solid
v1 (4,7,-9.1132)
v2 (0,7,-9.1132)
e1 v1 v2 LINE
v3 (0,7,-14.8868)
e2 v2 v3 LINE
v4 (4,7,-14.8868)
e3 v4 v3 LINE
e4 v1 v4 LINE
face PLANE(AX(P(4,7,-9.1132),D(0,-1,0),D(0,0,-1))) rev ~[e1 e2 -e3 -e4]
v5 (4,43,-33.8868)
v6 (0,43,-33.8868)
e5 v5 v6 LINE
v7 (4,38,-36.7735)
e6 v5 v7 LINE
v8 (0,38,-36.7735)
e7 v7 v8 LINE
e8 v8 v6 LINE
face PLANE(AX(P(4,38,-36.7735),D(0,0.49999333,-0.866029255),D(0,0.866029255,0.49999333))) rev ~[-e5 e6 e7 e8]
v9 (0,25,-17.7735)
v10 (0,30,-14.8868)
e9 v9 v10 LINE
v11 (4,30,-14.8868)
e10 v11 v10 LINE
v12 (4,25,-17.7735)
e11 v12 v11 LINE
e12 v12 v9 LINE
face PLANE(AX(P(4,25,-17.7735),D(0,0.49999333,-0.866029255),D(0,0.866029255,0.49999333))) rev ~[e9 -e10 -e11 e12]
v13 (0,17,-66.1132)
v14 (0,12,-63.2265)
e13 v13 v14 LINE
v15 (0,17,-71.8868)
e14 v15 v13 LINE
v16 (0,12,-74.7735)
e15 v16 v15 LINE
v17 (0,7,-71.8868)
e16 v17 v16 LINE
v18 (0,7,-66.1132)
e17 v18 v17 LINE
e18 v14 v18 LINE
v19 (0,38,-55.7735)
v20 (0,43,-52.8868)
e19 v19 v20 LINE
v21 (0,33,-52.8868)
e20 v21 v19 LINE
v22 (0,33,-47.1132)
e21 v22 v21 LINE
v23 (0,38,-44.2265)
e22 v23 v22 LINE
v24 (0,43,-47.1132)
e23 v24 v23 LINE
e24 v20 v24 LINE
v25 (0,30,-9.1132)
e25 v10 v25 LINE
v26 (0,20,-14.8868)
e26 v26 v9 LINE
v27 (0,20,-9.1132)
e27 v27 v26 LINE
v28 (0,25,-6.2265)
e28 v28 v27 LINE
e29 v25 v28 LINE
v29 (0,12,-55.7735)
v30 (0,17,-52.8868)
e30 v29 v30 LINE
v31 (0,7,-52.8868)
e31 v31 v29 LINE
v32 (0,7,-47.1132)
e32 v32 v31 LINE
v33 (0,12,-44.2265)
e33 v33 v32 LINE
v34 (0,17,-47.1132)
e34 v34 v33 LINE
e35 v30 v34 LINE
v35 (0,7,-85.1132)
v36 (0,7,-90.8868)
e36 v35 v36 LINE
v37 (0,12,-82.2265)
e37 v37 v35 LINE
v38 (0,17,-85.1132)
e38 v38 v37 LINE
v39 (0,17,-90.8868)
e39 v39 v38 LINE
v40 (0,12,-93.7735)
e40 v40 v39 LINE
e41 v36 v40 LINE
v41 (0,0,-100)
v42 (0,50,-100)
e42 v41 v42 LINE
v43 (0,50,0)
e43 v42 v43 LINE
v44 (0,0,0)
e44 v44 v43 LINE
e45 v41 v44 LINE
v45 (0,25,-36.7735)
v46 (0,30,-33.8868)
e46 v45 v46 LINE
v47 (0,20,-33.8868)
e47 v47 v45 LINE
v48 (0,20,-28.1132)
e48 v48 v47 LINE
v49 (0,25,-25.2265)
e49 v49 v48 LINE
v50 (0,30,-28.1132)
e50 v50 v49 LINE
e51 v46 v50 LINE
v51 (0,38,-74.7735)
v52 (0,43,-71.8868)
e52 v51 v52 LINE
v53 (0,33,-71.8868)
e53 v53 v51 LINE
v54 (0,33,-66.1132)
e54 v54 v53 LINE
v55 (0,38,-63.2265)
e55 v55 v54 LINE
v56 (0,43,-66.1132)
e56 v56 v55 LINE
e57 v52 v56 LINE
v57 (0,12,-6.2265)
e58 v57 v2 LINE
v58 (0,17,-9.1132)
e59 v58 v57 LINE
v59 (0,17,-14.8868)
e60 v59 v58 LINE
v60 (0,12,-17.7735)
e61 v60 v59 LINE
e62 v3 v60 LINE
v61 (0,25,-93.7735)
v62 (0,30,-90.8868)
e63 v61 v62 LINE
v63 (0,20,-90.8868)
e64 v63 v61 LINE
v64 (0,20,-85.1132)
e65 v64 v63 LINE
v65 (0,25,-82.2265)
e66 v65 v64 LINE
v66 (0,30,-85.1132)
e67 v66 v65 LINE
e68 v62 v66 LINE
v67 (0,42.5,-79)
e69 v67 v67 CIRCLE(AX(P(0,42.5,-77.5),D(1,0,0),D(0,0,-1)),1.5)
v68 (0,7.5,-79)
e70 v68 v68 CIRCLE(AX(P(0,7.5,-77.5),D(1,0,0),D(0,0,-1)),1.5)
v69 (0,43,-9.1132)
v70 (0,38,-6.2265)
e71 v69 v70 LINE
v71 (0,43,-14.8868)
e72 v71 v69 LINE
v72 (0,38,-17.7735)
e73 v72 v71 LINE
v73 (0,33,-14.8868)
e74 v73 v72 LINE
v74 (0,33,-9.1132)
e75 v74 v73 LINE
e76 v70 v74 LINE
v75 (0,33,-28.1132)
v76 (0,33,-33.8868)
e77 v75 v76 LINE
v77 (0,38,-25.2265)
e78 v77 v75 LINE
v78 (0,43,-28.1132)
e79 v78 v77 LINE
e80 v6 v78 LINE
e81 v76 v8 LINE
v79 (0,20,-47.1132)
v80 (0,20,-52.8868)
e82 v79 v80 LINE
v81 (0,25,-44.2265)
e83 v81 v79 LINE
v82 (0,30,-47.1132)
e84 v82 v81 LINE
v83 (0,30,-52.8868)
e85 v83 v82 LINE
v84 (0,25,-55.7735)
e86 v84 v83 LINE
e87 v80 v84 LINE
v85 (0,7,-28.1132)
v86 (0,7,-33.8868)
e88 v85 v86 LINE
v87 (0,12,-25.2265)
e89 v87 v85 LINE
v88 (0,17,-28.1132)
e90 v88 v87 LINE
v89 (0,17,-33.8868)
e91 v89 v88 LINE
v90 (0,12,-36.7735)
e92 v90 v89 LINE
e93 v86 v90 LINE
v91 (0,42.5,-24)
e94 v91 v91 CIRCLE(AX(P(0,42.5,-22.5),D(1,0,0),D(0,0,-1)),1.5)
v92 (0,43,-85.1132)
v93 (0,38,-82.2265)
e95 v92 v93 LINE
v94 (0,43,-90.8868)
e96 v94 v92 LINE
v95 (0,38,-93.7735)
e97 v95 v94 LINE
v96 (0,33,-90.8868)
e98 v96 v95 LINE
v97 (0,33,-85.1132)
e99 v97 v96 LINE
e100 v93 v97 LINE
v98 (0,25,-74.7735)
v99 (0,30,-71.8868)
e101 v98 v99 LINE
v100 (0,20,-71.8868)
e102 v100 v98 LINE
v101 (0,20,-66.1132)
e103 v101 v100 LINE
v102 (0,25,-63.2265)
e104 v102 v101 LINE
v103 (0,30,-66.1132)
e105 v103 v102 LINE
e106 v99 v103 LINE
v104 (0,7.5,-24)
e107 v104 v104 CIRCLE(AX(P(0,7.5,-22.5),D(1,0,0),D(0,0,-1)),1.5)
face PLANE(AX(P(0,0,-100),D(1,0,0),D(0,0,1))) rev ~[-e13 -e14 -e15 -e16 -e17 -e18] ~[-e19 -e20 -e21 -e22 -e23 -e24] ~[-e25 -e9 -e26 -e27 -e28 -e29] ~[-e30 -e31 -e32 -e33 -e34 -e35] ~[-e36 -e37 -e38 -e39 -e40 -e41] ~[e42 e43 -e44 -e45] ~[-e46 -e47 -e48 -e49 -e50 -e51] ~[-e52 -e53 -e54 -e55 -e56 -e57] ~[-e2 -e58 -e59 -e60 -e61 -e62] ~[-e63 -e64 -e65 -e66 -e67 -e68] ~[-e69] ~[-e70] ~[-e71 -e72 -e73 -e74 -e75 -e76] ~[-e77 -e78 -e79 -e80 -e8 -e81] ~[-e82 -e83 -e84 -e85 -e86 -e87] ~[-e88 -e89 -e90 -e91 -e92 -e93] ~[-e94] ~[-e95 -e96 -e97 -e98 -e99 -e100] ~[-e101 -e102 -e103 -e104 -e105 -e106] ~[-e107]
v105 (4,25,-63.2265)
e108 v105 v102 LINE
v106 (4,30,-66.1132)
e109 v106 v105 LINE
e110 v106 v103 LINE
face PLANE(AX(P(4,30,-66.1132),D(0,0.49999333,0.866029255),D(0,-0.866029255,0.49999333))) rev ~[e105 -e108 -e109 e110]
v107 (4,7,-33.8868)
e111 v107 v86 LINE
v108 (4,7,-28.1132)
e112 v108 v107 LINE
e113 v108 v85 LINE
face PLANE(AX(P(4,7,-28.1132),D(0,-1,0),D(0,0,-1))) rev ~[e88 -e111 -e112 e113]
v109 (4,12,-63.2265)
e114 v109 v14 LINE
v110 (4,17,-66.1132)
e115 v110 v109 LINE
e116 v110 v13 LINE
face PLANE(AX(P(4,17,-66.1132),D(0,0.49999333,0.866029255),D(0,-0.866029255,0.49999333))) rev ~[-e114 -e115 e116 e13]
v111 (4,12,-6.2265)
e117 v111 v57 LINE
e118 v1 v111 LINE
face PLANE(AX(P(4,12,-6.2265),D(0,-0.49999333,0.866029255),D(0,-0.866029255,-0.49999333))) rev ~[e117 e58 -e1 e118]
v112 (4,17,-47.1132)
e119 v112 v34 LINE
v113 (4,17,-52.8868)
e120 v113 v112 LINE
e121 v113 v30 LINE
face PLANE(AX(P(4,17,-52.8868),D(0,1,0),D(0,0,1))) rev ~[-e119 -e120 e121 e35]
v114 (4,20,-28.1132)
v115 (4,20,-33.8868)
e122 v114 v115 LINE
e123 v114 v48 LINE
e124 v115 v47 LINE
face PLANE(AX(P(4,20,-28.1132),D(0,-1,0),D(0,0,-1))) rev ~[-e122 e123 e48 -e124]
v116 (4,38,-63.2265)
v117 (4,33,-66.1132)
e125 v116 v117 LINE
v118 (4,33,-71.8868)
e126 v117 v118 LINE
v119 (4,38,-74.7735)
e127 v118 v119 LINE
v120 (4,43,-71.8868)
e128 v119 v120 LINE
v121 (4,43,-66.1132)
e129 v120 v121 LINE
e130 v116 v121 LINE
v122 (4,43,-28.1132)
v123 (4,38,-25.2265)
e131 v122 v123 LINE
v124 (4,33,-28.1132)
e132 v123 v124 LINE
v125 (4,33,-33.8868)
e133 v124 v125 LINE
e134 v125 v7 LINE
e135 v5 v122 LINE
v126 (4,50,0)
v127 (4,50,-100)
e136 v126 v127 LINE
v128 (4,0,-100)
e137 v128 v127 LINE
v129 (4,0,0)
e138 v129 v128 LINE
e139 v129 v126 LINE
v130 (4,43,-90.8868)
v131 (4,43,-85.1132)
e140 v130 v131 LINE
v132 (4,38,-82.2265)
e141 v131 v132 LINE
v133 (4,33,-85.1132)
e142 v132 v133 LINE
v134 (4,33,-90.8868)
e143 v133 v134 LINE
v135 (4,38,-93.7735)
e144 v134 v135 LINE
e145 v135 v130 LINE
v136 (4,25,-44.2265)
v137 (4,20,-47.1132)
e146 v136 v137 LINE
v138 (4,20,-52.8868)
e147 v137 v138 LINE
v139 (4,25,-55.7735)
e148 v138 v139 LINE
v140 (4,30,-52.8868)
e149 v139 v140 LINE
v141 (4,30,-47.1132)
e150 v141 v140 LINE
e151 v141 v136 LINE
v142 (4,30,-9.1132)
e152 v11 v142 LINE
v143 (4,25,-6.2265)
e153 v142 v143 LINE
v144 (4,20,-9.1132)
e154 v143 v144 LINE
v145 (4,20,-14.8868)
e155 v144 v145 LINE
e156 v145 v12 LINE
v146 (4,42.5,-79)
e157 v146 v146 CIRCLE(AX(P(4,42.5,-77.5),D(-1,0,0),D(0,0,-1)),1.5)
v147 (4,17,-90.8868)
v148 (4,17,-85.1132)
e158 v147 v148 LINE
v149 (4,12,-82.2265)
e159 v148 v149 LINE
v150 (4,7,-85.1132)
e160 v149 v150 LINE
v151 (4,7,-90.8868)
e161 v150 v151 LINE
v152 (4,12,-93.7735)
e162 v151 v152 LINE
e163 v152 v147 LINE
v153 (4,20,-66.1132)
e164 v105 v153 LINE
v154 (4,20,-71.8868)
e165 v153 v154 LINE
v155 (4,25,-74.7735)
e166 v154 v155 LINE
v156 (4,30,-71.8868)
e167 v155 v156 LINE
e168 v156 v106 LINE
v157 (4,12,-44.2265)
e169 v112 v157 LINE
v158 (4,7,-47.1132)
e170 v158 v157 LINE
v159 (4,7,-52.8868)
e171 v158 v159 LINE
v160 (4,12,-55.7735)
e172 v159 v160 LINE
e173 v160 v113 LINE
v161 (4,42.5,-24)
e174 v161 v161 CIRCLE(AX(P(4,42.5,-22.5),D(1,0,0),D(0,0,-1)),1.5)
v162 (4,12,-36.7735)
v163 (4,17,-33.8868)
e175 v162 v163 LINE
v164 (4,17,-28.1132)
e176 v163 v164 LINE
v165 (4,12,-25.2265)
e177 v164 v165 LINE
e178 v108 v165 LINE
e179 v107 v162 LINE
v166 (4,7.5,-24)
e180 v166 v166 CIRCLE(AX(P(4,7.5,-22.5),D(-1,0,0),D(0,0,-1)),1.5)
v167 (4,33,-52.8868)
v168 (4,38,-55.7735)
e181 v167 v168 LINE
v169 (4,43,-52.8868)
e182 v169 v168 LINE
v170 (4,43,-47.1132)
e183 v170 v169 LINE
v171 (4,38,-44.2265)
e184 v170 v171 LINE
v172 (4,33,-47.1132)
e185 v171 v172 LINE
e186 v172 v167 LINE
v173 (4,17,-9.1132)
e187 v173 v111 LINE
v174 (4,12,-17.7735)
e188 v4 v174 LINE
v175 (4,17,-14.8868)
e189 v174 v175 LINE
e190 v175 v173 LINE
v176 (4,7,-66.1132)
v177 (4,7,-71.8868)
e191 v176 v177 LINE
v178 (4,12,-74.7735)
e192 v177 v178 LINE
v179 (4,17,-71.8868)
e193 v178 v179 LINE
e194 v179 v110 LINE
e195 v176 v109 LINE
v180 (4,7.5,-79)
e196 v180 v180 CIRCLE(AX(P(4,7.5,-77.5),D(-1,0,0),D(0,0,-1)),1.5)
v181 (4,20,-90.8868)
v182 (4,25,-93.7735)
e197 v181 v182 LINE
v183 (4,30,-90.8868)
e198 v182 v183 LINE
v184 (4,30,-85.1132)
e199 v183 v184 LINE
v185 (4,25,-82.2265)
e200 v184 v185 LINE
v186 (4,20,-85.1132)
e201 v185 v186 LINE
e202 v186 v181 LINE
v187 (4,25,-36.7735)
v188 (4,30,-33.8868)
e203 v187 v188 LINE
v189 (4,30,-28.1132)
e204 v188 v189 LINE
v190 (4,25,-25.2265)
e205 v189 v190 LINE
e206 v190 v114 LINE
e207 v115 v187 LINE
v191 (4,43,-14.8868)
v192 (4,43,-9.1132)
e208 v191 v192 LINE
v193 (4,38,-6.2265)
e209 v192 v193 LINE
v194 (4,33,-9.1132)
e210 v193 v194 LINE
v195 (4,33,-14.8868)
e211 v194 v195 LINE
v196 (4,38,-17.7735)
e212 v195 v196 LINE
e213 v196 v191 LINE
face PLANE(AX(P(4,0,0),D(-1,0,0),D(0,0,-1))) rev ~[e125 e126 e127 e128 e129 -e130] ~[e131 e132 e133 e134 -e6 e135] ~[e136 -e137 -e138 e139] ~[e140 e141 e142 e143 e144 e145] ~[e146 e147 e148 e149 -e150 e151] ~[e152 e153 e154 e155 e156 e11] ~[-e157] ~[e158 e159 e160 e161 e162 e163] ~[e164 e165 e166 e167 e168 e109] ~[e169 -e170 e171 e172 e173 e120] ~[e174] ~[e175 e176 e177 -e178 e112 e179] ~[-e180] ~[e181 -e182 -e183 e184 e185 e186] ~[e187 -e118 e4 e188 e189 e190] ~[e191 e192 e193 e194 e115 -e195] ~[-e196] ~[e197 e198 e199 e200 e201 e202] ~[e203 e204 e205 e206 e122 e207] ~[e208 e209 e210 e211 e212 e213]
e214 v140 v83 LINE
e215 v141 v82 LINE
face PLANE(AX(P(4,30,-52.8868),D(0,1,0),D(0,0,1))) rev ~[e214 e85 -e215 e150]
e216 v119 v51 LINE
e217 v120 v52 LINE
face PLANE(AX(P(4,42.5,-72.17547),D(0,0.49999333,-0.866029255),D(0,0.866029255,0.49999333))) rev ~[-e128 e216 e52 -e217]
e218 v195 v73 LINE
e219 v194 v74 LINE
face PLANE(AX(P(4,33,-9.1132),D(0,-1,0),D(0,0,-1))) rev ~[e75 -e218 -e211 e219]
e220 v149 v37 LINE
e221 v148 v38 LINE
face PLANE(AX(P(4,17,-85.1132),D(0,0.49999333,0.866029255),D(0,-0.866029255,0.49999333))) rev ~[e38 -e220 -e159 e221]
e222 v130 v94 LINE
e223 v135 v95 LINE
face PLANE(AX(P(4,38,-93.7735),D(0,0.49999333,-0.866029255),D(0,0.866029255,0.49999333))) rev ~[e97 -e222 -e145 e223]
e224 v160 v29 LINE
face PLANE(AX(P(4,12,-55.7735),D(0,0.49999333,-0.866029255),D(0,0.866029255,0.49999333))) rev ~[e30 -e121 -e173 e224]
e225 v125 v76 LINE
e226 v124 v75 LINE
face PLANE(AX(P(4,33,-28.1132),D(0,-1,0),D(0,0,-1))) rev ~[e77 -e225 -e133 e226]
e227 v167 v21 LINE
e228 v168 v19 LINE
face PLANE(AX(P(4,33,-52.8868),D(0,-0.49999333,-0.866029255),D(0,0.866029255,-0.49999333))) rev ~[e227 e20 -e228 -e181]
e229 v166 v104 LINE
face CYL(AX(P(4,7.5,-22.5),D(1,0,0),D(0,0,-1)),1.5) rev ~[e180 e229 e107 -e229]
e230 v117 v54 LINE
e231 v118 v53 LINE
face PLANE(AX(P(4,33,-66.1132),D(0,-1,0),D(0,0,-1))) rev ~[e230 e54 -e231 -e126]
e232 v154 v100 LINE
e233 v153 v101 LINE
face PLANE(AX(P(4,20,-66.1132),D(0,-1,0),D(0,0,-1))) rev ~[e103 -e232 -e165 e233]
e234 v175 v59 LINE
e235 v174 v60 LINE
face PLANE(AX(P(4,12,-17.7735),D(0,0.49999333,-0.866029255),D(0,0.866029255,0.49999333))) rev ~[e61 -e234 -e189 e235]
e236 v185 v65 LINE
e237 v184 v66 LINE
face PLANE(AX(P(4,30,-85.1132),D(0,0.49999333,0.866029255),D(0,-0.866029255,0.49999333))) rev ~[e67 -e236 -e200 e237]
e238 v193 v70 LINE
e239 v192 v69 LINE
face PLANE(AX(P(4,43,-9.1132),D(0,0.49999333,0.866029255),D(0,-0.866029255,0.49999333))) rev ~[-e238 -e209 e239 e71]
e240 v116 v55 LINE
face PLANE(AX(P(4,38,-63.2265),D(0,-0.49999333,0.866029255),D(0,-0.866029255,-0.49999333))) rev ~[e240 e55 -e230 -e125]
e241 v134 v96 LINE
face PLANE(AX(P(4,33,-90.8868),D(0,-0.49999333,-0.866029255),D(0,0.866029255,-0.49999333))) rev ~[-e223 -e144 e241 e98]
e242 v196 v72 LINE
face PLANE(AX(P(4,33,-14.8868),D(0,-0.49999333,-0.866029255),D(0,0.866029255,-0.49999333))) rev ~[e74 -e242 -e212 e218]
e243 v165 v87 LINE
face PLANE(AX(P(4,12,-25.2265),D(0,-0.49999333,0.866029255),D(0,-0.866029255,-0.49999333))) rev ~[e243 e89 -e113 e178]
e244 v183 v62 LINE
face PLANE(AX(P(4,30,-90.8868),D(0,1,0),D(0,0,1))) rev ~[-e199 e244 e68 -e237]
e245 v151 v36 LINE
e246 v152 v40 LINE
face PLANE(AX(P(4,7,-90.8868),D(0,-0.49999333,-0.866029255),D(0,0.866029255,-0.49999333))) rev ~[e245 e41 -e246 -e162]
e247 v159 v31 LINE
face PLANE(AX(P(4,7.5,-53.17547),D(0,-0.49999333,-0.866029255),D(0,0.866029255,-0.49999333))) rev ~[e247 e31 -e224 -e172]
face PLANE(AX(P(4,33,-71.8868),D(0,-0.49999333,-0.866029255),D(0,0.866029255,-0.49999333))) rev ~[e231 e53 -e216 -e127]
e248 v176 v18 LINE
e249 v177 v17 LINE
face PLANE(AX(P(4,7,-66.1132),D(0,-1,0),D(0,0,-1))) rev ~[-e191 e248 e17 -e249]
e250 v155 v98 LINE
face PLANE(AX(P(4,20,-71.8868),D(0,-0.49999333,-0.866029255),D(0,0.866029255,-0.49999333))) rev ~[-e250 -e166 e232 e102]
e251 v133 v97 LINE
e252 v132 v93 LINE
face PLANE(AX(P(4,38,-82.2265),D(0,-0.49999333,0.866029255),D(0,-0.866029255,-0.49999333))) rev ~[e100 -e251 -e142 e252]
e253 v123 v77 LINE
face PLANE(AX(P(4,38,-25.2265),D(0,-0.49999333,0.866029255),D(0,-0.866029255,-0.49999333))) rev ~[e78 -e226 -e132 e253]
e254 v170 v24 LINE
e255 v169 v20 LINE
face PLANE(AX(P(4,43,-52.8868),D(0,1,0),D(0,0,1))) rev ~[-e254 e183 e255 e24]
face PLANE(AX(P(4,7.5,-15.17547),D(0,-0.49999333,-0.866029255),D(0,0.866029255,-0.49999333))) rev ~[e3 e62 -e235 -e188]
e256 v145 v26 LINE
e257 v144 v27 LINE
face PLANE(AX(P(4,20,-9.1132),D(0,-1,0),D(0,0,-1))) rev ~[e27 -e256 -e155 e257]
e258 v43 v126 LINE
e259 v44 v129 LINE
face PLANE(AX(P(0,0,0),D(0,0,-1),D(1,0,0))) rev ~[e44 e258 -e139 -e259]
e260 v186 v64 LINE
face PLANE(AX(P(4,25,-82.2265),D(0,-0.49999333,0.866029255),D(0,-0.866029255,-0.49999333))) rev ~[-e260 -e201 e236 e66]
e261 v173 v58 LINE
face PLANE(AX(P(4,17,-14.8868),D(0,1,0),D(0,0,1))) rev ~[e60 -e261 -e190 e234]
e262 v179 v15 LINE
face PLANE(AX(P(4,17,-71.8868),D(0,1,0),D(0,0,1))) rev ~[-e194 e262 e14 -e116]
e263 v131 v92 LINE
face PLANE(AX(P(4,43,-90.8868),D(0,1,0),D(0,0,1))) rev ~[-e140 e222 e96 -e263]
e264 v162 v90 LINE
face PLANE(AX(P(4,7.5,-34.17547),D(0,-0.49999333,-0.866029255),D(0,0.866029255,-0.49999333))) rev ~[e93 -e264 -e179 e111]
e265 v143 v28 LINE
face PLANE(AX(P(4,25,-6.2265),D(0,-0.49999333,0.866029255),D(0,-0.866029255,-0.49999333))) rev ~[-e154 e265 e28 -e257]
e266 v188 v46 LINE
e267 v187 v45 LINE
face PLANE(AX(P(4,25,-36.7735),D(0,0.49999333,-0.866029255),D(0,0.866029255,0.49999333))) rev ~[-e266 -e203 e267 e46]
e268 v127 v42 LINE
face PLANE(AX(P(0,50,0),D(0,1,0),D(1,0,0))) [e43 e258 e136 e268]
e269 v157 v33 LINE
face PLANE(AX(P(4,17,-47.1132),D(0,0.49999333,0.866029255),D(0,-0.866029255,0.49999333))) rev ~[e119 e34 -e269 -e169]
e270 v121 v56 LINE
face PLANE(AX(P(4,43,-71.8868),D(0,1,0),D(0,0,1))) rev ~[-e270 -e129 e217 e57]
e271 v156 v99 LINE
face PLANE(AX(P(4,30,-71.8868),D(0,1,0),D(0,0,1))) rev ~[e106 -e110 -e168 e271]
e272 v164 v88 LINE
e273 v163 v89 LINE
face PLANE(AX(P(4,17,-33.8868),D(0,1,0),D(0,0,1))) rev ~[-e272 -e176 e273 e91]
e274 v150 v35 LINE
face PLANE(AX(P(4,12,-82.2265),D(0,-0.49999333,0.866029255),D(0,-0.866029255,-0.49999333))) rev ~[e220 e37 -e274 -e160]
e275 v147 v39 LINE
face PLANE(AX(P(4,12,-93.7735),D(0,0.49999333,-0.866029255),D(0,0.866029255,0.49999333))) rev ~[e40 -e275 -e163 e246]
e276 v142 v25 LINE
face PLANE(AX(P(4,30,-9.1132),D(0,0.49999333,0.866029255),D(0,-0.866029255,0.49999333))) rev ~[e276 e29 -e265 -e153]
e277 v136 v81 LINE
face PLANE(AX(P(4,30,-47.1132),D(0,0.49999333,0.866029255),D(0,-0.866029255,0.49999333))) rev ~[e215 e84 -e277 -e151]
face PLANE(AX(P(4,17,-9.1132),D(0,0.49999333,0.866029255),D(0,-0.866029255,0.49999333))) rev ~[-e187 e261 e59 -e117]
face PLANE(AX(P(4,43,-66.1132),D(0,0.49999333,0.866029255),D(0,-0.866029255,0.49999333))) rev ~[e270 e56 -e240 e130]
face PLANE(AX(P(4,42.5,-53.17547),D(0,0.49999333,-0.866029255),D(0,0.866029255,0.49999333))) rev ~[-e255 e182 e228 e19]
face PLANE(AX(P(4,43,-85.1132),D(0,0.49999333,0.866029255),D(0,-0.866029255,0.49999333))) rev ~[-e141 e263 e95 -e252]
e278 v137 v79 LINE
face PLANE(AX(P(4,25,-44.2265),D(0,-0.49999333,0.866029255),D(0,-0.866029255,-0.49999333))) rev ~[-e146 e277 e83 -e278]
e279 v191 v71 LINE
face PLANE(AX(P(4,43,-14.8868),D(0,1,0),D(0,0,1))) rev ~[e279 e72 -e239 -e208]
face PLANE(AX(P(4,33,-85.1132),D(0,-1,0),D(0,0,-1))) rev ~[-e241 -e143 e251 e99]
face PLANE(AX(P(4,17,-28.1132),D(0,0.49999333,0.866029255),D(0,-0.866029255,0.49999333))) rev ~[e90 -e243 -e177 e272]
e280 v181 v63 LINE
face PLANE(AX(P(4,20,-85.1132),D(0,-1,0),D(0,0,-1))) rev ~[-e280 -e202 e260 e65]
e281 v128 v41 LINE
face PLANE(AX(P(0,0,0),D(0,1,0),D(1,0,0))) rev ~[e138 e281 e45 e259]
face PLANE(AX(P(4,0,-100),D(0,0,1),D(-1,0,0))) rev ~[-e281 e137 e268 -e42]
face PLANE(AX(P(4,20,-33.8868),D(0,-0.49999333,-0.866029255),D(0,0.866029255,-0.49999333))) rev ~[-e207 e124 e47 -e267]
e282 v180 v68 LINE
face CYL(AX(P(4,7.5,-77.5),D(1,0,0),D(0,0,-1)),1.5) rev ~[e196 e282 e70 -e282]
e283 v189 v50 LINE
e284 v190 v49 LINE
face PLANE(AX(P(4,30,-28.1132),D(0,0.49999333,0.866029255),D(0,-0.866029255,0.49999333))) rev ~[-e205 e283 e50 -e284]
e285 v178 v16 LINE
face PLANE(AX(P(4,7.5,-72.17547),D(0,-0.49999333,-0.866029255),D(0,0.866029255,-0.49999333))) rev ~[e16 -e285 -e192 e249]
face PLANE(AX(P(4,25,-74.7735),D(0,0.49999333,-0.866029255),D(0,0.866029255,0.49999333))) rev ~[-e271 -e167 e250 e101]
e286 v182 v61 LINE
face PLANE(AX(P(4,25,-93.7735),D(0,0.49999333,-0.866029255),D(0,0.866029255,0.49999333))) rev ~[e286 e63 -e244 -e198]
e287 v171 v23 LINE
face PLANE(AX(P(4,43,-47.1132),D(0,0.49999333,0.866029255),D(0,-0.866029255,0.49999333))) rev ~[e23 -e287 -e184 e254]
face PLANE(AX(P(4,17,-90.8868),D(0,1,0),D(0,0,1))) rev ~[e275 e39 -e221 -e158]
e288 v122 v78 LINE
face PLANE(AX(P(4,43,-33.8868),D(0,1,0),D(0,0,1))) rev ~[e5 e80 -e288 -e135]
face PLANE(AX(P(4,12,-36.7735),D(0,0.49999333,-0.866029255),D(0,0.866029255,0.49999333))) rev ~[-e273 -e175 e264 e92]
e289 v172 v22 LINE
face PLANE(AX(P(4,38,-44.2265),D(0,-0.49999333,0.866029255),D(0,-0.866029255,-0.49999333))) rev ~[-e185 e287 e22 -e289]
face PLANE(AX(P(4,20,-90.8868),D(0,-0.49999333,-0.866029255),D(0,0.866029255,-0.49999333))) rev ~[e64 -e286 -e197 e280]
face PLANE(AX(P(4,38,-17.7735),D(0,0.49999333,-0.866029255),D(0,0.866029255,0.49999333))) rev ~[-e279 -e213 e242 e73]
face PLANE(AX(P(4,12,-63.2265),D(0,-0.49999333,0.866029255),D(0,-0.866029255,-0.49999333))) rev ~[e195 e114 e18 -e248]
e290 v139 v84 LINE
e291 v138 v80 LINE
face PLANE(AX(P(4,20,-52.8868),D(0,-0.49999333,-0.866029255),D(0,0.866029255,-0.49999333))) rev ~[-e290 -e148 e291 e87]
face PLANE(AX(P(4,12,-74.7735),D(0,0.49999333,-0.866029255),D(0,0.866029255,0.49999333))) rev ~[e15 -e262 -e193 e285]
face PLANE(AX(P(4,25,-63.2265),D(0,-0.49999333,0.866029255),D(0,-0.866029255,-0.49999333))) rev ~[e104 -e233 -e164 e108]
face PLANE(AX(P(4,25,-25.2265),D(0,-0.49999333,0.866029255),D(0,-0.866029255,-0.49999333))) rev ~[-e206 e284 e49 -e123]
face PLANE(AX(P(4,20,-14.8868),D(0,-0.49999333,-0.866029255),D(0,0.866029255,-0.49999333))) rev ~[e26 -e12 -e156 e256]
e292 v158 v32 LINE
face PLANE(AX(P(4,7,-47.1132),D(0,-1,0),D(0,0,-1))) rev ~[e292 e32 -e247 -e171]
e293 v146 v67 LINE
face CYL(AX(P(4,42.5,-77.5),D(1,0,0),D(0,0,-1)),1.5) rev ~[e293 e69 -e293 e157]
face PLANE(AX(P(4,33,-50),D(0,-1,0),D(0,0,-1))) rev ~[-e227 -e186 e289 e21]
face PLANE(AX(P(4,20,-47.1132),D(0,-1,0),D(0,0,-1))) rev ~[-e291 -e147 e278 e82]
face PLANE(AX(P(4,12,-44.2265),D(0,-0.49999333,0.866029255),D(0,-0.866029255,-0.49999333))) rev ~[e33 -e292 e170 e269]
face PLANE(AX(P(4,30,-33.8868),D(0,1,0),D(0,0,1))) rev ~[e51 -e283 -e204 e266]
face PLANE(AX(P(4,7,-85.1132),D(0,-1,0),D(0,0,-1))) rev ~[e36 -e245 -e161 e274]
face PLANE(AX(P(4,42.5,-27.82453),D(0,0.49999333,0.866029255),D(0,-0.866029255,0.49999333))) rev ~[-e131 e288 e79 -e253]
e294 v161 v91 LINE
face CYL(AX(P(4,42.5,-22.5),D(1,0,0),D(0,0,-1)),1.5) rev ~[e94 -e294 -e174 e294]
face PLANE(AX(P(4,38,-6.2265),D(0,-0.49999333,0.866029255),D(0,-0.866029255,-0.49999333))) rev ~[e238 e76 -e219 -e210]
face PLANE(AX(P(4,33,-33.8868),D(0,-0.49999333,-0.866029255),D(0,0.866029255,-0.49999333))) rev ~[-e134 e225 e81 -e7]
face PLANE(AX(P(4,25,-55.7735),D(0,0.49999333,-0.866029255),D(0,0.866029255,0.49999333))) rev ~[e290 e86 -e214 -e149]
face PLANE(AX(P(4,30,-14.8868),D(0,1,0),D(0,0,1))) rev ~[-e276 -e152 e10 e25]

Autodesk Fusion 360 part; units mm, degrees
sketch "Boceto1" plane through (0, 0, 0) normal (0, 1, 0) x (1, 0, 0)
  line L0 (0, 0) -> (4, 0)
  line L1 (4, 0) -> (4, 100)
  line L2 (4, 100) -> (0, 100)
  line L3 (0, 100) -> (0, 0)
  dimension "d1" = 4
  dimension "d2" = 100
extrude "Extruir1" add sketch "Boceto1" along normal blind 50
sketch "Boceto2" plane through (4, 0, 0) normal (1, 0, 0) x (0, 0, -1)
  line L0 (0, 0) -> (100, 0)
  line L1 (100, 0) -> (100, 50)
  line L2 (100, 50) -> (0, 50)
  line L3 (0, 50) -> (0, 0)
  line L4 (0, 0) -> (0, 7.5)
  line L5 (0, 7.5) -> (22.5, 7.5)
  line L6 (22.5, 7.5) -> (77.5, 7.5)
  line L7 (77.5, 7.5) -> (77.5, 42.5)
  line L8 (77.5, 42.5) -> (22.5, 42.5)
  circle A0 centre (22.5, 42.5) radius 1.5
  circle A1 centre (77.5, 42.5) radius 1.5
  circle A2 centre (22.5, 7.5) radius 1.5
  circle A3 centre (77.5, 7.5) radius 1.5
  line L9 (0, 50) -> (4, 50)
  line L10 (4, 50) -> (4, 46)
  line L11 (4, 46) -> (96, 46)
  line L12 (96, 46) -> (96, 4)
  line L13 (96, 4) -> (4, 4)
  line L14 (4, 4) -> (4, 46)
  line L15 (50, 46) -> (50, 25)
  line L16 (47.1132, 30) -> (44.2265, 25)
  line L17 (44.2265, 25) -> (47.1132, 20)
  line L18 (47.1132, 20) -> (52.8868, 20)
  line L19 (52.8868, 20) -> (55.7735, 25)
  line L20 (55.7735, 25) -> (52.8868, 30)
  line L21 (52.8868, 30) -> (47.1132, 30)
  line L22 (9.1132, 30) -> (6.2265, 25)
  line L23 (9.1132, 20) -> (14.8868, 20)
  line L24 (14.8868, 20) -> (17.7735, 25)
  line L25 (6.2265, 25) -> (9.1132, 20)
  line L26 (17.7735, 25) -> (14.8868, 30)
  line L27 (14.8868, 30) -> (9.1132, 30)
  line L28 (28.1132, 30) -> (25.2265, 25)
  line L29 (28.1132, 20) -> (33.8868, 20)
  line L30 (33.8868, 20) -> (36.7735, 25)
  line L31 (25.2265, 25) -> (28.1132, 20)
  line L32 (36.7735, 25) -> (33.8868, 30)
  line L33 (33.8868, 30) -> (28.1132, 30)
  line L34 (66.1132, 30) -> (63.2265, 25)
  line L35 (66.1132, 20) -> (71.8868, 20)
  line L36 (71.8868, 20) -> (74.7735, 25)
  line L37 (63.2265, 25) -> (66.1132, 20)
  line L38 (74.7735, 25) -> (71.8868, 30)
  line L39 (71.8868, 30) -> (66.1132, 30)
  line L40 (85.1132, 30) -> (82.2265, 25)
  line L41 (85.1132, 20) -> (90.8868, 20)
  line L42 (90.8868, 20) -> (93.7735, 25)
  line L43 (82.2265, 25) -> (85.1132, 20)
  line L44 (93.7735, 25) -> (90.8868, 30)
  line L45 (90.8868, 30) -> (85.1132, 30)
  line L46 (17.7735, 12) -> (14.8868, 17)
  line L47 (85.1132, 17) -> (82.2265, 12)
  line L48 (14.8868, 17) -> (9.1132, 17)
  line L49 (90.8868, 7) -> (93.7735, 12)
  line L50 (47.1132, 7) -> (52.8868, 7)
  line L51 (28.1132, 17) -> (25.2265, 12)
  line L52 (47.1132, 17) -> (44.2265, 12)
  line L53 (85.1132, 7) -> (90.8868, 7)
  line L54 (52.8868, 7) -> (55.7735, 12)
  line L55 (63.2265, 12) -> (66.1132, 7)
  line L56 (9.1132, 7) -> (14.8868, 7)
  line L57 (14.8868, 7) -> (17.7735, 12)
  line L58 (52.8868, 17) -> (47.1132, 17)
  line L59 (74.7735, 12) -> (71.8868, 17)
  line L60 (28.1132, 7) -> (33.8868, 7)
  line L61 (36.7735, 12) -> (33.8868, 17)
  line L62 (82.2265, 12) -> (85.1132, 7)
  line L63 (71.8868, 17) -> (66.1132, 17)
  line L64 (33.8868, 17) -> (28.1132, 17)
  line L65 (93.7735, 12) -> (90.8868, 17)
  line L66 (9.1132, 17) -> (6.2265, 12)
  line L67 (33.8868, 7) -> (36.7735, 12)
  line L68 (25.2265, 12) -> (28.1132, 7)
  line L69 (71.8868, 7) -> (74.7735, 12)
  line L70 (55.7735, 12) -> (52.8868, 17)
  line L71 (6.2265, 12) -> (9.1132, 7)
  line L72 (66.1132, 7) -> (71.8868, 7)
  line L73 (66.1132, 17) -> (63.2265, 12)
  line L74 (44.2265, 12) -> (47.1132, 7)
  line L75 (90.8868, 17) -> (85.1132, 17)
  line L76 (17.7735, 38) -> (14.8868, 43)
  line L77 (85.1132, 43) -> (82.2265, 38)
  line L78 (14.8868, 43) -> (9.1132, 43)
  line L79 (90.8868, 33) -> (93.7735, 38)
  line L80 (47.1132, 33) -> (52.8868, 33)
  line L81 (28.1132, 43) -> (25.2265, 38)
  line L82 (47.1132, 43) -> (44.2265, 38)
  line L83 (85.1132, 33) -> (90.8868, 33)
  line L84 (52.8868, 33) -> (55.7735, 38)
  line L85 (63.2265, 38) -> (66.1132, 33)
  line L86 (9.1132, 33) -> (14.8868, 33)
  line L87 (14.8868, 33) -> (17.7735, 38)
  line L88 (52.8868, 43) -> (47.1132, 43)
  line L89 (74.7735, 38) -> (71.8868, 43)
  line L90 (28.1132, 33) -> (33.8868, 33)
  line L91 (36.7735, 38) -> (33.8868, 43)
  line L92 (82.2265, 38) -> (85.1132, 33)
  line L93 (71.8868, 43) -> (66.1132, 43)
  line L94 (33.8868, 43) -> (28.1132, 43)
  line L95 (93.7735, 38) -> (90.8868, 43)
  line L96 (9.1132, 43) -> (6.2265, 38)
  line L97 (33.8868, 33) -> (36.7735, 38)
  line L98 (25.2265, 38) -> (28.1132, 33)
  line L99 (71.8868, 33) -> (74.7735, 38)
  line L100 (55.7735, 38) -> (52.8868, 43)
  line L101 (6.2265, 38) -> (9.1132, 33)
  line L102 (66.1132, 33) -> (71.8868, 33)
  line L103 (66.1132, 43) -> (63.2265, 38)
  line L104 (44.2265, 38) -> (47.1132, 33)
  line L105 (90.8868, 43) -> (85.1132, 43)
  point P0 (50, 25)
  point P1 (12, 25)
  point P2 (12, 25)
  point P3 (31, 25)
  point P4 (31, 25)
  point P5 (69, 25)
  point P6 (69, 25)
  point P7 (88, 25)
  point P8 (88, 25)
  point P9 (12, 12)
  point P10 (50, 12)
  point P11 (69, 12)
  point P12 (31, 12)
  point P13 (88, 12)
  point P14 (50, 12)
  point P15 (31, 12)
  point P16 (88, 12)
  point P17 (69, 12)
  point P18 (12, 12)
  point P19 (12, 38)
  point P20 (50, 38)
  point P21 (69, 38)
  point P22 (31, 38)
  point P23 (88, 38)
  point P24 (50, 38)
  point P25 (31, 38)
  point P26 (88, 38)
  point P27 (69, 38)
  point P28 (12, 38)
  dimension "d5" = 7.5
  dimension "d6" = 22.5
  dimension "d7" = 55
  dimension "d8" = 35
  dimension "d9" = 3
  dimension "d10" = 3
  dimension "d11" = 3
  dimension "d12" = 3
  dimension "d13" = 4
  dimension "d14" = 4
  dimension "d15" = 92
  dimension "d16" = 42
  dimension "d17" = 5
  dimension "d20" = 38
  dimension "d21" = 0
  dimension "d24" = 0
  dimension "d25" = 13
extrude "Extruir2" cut sketch "Boceto2" against normal blind 13 contours L16 L17 L18 L19 L20 L21 | A0 | L8 L81 L90 L91 L97 L98 | L8 L81 L91 L94 | L5 L46 L48 L57 L66 L71 | L5 L56 L57 L71 | L5 L6 A2 | L5 L6 A2 | L8 L15 L88 L100 | L8 L15 L82 L88 | L8 L15 L80 L82 L104 | L8 L15 L80 L84 L100 | L6 L51 L61 L64 L67 L68 | L6 L60 L67 L68 | L8 L89 L93 L103 | L8 L85 L89 L99 L102 L103 | L6 L52 L54 L58 L70 L74 | L6 L50 L54 L74 | L7 L8 A1 | L7 L8 A1 | L6 L55 L59 L63 L69 L73 | L6 L55 L69 L72 | L6 L7 A3 | L6 L7 A3 | L22 L23 L24 L25 L26 L27 | L28 L29 L30 L31 L32 L33 | L34 L35 L36 L37 L38 L39 | L40 L41 L42 L43 L44 L45 | L47 L49 L53 L62 L65 L75 | L76 L78 L86 L87 L96 L101 | L77 L79 L83 L92 L95 L105
sketch "Boceto3" plane through (4, 0, 0) normal (1, 0, 0) x (0, 0, -1)
  line L0 (52.8868, 7) -> (47.1132, 7)
  line L1 (47.1132, 7) -> (44.2265, 12)
  line L2 (44.2265, 12) -> (47.1132, 17)
  line L3 (47.1132, 17) -> (52.8868, 17)
  line L4 (52.8868, 17) -> (55.7735, 12)
  line L5 (55.7735, 12) -> (52.8868, 7)
  line L6 (14.8868, 33) -> (9.1132, 33)
  line L7 (9.1132, 33) -> (6.2265, 38)
  line L8 (6.2265, 38) -> (9.1132, 43)
  line L9 (9.1132, 43) -> (14.8868, 43)
  line L10 (14.8868, 43) -> (17.7735, 38)
  line L11 (17.7735, 38) -> (14.8868, 33)
  line L12 (63.2265, 25) -> (66.1132, 30)
  line L13 (66.1132, 30) -> (71.8868, 30)
  line L14 (71.8868, 30) -> (74.7735, 25)
  line L15 (74.7735, 25) -> (71.8868, 20)
  line L16 (71.8868, 20) -> (66.1132, 20)
  line L17 (66.1132, 20) -> (63.2265, 25)
  circle A0 centre (77.5, 42.5) radius 1.5
  circle A1 centre (22.5, 42.5) radius 1.5
  line L18 (66.1132, 33) -> (63.2265, 38)
  line L19 (63.2265, 38) -> (66.1132, 43)
  line L20 (66.1132, 43) -> (71.8868, 43)
  line L21 (71.8868, 43) -> (74.7735, 38)
  line L22 (74.7735, 38) -> (71.8868, 33)
  line L23 (71.8868, 33) -> (66.1132, 33)
  line L24 (82.2265, 12) -> (85.1132, 17)
  line L25 (85.1132, 17) -> (90.8868, 17)
  line L26 (90.8868, 17) -> (93.7735, 12)
  line L27 (93.7735, 12) -> (90.8868, 7)
  line L28 (90.8868, 7) -> (85.1132, 7)
  line L29 (85.1132, 7) -> (82.2265, 12)
  line L30 (6.2265, 25) -> (9.1132, 30)
  line L31 (9.1132, 30) -> (14.8868, 30)
  line L32 (14.8868, 30) -> (17.7735, 25)
  line L33 (17.7735, 25) -> (14.8868, 20)
  line L34 (14.8868, 20) -> (9.1132, 20)
  line L35 (9.1132, 20) -> (6.2265, 25)
  line L36 (33.8868, 7) -> (28.1132, 7)
  line L37 (28.1132, 7) -> (25.2265, 12)
  line L38 (25.2265, 12) -> (28.1132, 17)
  line L39 (28.1132, 17) -> (33.8868, 17)
  line L40 (33.8868, 17) -> (36.7735, 12)
  line L41 (36.7735, 12) -> (33.8868, 7)
  line L42 (66.1132, 7) -> (63.2265, 12)
  line L43 (63.2265, 12) -> (66.1132, 17)
  line L44 (66.1132, 17) -> (71.8868, 17)
  line L45 (71.8868, 17) -> (74.7735, 12)
  line L46 (74.7735, 12) -> (71.8868, 7)
  line L47 (71.8868, 7) -> (66.1132, 7)
  line L48 (14.8868, 7) -> (9.1132, 7)
  line L49 (9.1132, 7) -> (6.2265, 12)
  line L50 (6.2265, 12) -> (9.1132, 17)
  line L51 (9.1132, 17) -> (14.8868, 17)
  line L52 (14.8868, 17) -> (17.7735, 12)
  line L53 (17.7735, 12) -> (14.8868, 7)
  line L54 (44.2265, 25) -> (47.1132, 30)
  line L55 (47.1132, 30) -> (52.8868, 30)
  line L56 (52.8868, 30) -> (55.7735, 25)
  line L57 (55.7735, 25) -> (52.8868, 20)
  line L58 (52.8868, 20) -> (47.1132, 20)
  line L59 (47.1132, 20) -> (44.2265, 25)
  line L60 (82.2265, 38) -> (85.1132, 43)
  line L61 (85.1132, 43) -> (90.8868, 43)
  line L62 (90.8868, 43) -> (93.7735, 38)
  line L63 (93.7735, 38) -> (90.8868, 33)
  line L64 (90.8868, 33) -> (85.1132, 33)
  line L65 (85.1132, 33) -> (82.2265, 38)
  line L66 (33.8868, 33) -> (28.1132, 33)
  line L67 (28.1132, 33) -> (25.2265, 38)
  line L68 (25.2265, 38) -> (28.1132, 43)
  line L69 (28.1132, 43) -> (33.8868, 43)
  line L70 (33.8868, 43) -> (36.7735, 38)
  line L71 (36.7735, 38) -> (33.8868, 33)
  line L72 (52.8868, 33) -> (47.1132, 33)
  line L73 (47.1132, 33) -> (44.2265, 38)
  line L74 (44.2265, 38) -> (47.1132, 43)
  line L75 (47.1132, 43) -> (52.8868, 43)
  line L76 (52.8868, 43) -> (55.7735, 38)
  line L77 (55.7735, 38) -> (52.8868, 33)
  line L78 (82.2265, 25) -> (85.1132, 30)
  line L79 (85.1132, 30) -> (90.8868, 30)
  line L80 (90.8868, 30) -> (93.7735, 25)
  line L81 (93.7735, 25) -> (90.8868, 20)
  line L82 (90.8868, 20) -> (85.1132, 20)
  line L83 (85.1132, 20) -> (82.2265, 25)
  line L84 (25.2265, 25) -> (28.1132, 30)
  line L85 (28.1132, 30) -> (33.8868, 30)
  line L86 (33.8868, 30) -> (36.7735, 25)
  line L87 (36.7735, 25) -> (33.8868, 20)
  line L88 (33.8868, 20) -> (28.1132, 20)
  line L89 (28.1132, 20) -> (25.2265, 25)
  circle A2 centre (22.5, 7.5) radius 1.5
  circle A3 centre (77.5, 7.5) radius 1.5
  line L90 (0, 0) -> (100, 0)
  line L91 (100, 0) -> (100, 50)
  line L92 (100, 50) -> (0, 50)
  line L93 (0, 50) -> (0, 0)
